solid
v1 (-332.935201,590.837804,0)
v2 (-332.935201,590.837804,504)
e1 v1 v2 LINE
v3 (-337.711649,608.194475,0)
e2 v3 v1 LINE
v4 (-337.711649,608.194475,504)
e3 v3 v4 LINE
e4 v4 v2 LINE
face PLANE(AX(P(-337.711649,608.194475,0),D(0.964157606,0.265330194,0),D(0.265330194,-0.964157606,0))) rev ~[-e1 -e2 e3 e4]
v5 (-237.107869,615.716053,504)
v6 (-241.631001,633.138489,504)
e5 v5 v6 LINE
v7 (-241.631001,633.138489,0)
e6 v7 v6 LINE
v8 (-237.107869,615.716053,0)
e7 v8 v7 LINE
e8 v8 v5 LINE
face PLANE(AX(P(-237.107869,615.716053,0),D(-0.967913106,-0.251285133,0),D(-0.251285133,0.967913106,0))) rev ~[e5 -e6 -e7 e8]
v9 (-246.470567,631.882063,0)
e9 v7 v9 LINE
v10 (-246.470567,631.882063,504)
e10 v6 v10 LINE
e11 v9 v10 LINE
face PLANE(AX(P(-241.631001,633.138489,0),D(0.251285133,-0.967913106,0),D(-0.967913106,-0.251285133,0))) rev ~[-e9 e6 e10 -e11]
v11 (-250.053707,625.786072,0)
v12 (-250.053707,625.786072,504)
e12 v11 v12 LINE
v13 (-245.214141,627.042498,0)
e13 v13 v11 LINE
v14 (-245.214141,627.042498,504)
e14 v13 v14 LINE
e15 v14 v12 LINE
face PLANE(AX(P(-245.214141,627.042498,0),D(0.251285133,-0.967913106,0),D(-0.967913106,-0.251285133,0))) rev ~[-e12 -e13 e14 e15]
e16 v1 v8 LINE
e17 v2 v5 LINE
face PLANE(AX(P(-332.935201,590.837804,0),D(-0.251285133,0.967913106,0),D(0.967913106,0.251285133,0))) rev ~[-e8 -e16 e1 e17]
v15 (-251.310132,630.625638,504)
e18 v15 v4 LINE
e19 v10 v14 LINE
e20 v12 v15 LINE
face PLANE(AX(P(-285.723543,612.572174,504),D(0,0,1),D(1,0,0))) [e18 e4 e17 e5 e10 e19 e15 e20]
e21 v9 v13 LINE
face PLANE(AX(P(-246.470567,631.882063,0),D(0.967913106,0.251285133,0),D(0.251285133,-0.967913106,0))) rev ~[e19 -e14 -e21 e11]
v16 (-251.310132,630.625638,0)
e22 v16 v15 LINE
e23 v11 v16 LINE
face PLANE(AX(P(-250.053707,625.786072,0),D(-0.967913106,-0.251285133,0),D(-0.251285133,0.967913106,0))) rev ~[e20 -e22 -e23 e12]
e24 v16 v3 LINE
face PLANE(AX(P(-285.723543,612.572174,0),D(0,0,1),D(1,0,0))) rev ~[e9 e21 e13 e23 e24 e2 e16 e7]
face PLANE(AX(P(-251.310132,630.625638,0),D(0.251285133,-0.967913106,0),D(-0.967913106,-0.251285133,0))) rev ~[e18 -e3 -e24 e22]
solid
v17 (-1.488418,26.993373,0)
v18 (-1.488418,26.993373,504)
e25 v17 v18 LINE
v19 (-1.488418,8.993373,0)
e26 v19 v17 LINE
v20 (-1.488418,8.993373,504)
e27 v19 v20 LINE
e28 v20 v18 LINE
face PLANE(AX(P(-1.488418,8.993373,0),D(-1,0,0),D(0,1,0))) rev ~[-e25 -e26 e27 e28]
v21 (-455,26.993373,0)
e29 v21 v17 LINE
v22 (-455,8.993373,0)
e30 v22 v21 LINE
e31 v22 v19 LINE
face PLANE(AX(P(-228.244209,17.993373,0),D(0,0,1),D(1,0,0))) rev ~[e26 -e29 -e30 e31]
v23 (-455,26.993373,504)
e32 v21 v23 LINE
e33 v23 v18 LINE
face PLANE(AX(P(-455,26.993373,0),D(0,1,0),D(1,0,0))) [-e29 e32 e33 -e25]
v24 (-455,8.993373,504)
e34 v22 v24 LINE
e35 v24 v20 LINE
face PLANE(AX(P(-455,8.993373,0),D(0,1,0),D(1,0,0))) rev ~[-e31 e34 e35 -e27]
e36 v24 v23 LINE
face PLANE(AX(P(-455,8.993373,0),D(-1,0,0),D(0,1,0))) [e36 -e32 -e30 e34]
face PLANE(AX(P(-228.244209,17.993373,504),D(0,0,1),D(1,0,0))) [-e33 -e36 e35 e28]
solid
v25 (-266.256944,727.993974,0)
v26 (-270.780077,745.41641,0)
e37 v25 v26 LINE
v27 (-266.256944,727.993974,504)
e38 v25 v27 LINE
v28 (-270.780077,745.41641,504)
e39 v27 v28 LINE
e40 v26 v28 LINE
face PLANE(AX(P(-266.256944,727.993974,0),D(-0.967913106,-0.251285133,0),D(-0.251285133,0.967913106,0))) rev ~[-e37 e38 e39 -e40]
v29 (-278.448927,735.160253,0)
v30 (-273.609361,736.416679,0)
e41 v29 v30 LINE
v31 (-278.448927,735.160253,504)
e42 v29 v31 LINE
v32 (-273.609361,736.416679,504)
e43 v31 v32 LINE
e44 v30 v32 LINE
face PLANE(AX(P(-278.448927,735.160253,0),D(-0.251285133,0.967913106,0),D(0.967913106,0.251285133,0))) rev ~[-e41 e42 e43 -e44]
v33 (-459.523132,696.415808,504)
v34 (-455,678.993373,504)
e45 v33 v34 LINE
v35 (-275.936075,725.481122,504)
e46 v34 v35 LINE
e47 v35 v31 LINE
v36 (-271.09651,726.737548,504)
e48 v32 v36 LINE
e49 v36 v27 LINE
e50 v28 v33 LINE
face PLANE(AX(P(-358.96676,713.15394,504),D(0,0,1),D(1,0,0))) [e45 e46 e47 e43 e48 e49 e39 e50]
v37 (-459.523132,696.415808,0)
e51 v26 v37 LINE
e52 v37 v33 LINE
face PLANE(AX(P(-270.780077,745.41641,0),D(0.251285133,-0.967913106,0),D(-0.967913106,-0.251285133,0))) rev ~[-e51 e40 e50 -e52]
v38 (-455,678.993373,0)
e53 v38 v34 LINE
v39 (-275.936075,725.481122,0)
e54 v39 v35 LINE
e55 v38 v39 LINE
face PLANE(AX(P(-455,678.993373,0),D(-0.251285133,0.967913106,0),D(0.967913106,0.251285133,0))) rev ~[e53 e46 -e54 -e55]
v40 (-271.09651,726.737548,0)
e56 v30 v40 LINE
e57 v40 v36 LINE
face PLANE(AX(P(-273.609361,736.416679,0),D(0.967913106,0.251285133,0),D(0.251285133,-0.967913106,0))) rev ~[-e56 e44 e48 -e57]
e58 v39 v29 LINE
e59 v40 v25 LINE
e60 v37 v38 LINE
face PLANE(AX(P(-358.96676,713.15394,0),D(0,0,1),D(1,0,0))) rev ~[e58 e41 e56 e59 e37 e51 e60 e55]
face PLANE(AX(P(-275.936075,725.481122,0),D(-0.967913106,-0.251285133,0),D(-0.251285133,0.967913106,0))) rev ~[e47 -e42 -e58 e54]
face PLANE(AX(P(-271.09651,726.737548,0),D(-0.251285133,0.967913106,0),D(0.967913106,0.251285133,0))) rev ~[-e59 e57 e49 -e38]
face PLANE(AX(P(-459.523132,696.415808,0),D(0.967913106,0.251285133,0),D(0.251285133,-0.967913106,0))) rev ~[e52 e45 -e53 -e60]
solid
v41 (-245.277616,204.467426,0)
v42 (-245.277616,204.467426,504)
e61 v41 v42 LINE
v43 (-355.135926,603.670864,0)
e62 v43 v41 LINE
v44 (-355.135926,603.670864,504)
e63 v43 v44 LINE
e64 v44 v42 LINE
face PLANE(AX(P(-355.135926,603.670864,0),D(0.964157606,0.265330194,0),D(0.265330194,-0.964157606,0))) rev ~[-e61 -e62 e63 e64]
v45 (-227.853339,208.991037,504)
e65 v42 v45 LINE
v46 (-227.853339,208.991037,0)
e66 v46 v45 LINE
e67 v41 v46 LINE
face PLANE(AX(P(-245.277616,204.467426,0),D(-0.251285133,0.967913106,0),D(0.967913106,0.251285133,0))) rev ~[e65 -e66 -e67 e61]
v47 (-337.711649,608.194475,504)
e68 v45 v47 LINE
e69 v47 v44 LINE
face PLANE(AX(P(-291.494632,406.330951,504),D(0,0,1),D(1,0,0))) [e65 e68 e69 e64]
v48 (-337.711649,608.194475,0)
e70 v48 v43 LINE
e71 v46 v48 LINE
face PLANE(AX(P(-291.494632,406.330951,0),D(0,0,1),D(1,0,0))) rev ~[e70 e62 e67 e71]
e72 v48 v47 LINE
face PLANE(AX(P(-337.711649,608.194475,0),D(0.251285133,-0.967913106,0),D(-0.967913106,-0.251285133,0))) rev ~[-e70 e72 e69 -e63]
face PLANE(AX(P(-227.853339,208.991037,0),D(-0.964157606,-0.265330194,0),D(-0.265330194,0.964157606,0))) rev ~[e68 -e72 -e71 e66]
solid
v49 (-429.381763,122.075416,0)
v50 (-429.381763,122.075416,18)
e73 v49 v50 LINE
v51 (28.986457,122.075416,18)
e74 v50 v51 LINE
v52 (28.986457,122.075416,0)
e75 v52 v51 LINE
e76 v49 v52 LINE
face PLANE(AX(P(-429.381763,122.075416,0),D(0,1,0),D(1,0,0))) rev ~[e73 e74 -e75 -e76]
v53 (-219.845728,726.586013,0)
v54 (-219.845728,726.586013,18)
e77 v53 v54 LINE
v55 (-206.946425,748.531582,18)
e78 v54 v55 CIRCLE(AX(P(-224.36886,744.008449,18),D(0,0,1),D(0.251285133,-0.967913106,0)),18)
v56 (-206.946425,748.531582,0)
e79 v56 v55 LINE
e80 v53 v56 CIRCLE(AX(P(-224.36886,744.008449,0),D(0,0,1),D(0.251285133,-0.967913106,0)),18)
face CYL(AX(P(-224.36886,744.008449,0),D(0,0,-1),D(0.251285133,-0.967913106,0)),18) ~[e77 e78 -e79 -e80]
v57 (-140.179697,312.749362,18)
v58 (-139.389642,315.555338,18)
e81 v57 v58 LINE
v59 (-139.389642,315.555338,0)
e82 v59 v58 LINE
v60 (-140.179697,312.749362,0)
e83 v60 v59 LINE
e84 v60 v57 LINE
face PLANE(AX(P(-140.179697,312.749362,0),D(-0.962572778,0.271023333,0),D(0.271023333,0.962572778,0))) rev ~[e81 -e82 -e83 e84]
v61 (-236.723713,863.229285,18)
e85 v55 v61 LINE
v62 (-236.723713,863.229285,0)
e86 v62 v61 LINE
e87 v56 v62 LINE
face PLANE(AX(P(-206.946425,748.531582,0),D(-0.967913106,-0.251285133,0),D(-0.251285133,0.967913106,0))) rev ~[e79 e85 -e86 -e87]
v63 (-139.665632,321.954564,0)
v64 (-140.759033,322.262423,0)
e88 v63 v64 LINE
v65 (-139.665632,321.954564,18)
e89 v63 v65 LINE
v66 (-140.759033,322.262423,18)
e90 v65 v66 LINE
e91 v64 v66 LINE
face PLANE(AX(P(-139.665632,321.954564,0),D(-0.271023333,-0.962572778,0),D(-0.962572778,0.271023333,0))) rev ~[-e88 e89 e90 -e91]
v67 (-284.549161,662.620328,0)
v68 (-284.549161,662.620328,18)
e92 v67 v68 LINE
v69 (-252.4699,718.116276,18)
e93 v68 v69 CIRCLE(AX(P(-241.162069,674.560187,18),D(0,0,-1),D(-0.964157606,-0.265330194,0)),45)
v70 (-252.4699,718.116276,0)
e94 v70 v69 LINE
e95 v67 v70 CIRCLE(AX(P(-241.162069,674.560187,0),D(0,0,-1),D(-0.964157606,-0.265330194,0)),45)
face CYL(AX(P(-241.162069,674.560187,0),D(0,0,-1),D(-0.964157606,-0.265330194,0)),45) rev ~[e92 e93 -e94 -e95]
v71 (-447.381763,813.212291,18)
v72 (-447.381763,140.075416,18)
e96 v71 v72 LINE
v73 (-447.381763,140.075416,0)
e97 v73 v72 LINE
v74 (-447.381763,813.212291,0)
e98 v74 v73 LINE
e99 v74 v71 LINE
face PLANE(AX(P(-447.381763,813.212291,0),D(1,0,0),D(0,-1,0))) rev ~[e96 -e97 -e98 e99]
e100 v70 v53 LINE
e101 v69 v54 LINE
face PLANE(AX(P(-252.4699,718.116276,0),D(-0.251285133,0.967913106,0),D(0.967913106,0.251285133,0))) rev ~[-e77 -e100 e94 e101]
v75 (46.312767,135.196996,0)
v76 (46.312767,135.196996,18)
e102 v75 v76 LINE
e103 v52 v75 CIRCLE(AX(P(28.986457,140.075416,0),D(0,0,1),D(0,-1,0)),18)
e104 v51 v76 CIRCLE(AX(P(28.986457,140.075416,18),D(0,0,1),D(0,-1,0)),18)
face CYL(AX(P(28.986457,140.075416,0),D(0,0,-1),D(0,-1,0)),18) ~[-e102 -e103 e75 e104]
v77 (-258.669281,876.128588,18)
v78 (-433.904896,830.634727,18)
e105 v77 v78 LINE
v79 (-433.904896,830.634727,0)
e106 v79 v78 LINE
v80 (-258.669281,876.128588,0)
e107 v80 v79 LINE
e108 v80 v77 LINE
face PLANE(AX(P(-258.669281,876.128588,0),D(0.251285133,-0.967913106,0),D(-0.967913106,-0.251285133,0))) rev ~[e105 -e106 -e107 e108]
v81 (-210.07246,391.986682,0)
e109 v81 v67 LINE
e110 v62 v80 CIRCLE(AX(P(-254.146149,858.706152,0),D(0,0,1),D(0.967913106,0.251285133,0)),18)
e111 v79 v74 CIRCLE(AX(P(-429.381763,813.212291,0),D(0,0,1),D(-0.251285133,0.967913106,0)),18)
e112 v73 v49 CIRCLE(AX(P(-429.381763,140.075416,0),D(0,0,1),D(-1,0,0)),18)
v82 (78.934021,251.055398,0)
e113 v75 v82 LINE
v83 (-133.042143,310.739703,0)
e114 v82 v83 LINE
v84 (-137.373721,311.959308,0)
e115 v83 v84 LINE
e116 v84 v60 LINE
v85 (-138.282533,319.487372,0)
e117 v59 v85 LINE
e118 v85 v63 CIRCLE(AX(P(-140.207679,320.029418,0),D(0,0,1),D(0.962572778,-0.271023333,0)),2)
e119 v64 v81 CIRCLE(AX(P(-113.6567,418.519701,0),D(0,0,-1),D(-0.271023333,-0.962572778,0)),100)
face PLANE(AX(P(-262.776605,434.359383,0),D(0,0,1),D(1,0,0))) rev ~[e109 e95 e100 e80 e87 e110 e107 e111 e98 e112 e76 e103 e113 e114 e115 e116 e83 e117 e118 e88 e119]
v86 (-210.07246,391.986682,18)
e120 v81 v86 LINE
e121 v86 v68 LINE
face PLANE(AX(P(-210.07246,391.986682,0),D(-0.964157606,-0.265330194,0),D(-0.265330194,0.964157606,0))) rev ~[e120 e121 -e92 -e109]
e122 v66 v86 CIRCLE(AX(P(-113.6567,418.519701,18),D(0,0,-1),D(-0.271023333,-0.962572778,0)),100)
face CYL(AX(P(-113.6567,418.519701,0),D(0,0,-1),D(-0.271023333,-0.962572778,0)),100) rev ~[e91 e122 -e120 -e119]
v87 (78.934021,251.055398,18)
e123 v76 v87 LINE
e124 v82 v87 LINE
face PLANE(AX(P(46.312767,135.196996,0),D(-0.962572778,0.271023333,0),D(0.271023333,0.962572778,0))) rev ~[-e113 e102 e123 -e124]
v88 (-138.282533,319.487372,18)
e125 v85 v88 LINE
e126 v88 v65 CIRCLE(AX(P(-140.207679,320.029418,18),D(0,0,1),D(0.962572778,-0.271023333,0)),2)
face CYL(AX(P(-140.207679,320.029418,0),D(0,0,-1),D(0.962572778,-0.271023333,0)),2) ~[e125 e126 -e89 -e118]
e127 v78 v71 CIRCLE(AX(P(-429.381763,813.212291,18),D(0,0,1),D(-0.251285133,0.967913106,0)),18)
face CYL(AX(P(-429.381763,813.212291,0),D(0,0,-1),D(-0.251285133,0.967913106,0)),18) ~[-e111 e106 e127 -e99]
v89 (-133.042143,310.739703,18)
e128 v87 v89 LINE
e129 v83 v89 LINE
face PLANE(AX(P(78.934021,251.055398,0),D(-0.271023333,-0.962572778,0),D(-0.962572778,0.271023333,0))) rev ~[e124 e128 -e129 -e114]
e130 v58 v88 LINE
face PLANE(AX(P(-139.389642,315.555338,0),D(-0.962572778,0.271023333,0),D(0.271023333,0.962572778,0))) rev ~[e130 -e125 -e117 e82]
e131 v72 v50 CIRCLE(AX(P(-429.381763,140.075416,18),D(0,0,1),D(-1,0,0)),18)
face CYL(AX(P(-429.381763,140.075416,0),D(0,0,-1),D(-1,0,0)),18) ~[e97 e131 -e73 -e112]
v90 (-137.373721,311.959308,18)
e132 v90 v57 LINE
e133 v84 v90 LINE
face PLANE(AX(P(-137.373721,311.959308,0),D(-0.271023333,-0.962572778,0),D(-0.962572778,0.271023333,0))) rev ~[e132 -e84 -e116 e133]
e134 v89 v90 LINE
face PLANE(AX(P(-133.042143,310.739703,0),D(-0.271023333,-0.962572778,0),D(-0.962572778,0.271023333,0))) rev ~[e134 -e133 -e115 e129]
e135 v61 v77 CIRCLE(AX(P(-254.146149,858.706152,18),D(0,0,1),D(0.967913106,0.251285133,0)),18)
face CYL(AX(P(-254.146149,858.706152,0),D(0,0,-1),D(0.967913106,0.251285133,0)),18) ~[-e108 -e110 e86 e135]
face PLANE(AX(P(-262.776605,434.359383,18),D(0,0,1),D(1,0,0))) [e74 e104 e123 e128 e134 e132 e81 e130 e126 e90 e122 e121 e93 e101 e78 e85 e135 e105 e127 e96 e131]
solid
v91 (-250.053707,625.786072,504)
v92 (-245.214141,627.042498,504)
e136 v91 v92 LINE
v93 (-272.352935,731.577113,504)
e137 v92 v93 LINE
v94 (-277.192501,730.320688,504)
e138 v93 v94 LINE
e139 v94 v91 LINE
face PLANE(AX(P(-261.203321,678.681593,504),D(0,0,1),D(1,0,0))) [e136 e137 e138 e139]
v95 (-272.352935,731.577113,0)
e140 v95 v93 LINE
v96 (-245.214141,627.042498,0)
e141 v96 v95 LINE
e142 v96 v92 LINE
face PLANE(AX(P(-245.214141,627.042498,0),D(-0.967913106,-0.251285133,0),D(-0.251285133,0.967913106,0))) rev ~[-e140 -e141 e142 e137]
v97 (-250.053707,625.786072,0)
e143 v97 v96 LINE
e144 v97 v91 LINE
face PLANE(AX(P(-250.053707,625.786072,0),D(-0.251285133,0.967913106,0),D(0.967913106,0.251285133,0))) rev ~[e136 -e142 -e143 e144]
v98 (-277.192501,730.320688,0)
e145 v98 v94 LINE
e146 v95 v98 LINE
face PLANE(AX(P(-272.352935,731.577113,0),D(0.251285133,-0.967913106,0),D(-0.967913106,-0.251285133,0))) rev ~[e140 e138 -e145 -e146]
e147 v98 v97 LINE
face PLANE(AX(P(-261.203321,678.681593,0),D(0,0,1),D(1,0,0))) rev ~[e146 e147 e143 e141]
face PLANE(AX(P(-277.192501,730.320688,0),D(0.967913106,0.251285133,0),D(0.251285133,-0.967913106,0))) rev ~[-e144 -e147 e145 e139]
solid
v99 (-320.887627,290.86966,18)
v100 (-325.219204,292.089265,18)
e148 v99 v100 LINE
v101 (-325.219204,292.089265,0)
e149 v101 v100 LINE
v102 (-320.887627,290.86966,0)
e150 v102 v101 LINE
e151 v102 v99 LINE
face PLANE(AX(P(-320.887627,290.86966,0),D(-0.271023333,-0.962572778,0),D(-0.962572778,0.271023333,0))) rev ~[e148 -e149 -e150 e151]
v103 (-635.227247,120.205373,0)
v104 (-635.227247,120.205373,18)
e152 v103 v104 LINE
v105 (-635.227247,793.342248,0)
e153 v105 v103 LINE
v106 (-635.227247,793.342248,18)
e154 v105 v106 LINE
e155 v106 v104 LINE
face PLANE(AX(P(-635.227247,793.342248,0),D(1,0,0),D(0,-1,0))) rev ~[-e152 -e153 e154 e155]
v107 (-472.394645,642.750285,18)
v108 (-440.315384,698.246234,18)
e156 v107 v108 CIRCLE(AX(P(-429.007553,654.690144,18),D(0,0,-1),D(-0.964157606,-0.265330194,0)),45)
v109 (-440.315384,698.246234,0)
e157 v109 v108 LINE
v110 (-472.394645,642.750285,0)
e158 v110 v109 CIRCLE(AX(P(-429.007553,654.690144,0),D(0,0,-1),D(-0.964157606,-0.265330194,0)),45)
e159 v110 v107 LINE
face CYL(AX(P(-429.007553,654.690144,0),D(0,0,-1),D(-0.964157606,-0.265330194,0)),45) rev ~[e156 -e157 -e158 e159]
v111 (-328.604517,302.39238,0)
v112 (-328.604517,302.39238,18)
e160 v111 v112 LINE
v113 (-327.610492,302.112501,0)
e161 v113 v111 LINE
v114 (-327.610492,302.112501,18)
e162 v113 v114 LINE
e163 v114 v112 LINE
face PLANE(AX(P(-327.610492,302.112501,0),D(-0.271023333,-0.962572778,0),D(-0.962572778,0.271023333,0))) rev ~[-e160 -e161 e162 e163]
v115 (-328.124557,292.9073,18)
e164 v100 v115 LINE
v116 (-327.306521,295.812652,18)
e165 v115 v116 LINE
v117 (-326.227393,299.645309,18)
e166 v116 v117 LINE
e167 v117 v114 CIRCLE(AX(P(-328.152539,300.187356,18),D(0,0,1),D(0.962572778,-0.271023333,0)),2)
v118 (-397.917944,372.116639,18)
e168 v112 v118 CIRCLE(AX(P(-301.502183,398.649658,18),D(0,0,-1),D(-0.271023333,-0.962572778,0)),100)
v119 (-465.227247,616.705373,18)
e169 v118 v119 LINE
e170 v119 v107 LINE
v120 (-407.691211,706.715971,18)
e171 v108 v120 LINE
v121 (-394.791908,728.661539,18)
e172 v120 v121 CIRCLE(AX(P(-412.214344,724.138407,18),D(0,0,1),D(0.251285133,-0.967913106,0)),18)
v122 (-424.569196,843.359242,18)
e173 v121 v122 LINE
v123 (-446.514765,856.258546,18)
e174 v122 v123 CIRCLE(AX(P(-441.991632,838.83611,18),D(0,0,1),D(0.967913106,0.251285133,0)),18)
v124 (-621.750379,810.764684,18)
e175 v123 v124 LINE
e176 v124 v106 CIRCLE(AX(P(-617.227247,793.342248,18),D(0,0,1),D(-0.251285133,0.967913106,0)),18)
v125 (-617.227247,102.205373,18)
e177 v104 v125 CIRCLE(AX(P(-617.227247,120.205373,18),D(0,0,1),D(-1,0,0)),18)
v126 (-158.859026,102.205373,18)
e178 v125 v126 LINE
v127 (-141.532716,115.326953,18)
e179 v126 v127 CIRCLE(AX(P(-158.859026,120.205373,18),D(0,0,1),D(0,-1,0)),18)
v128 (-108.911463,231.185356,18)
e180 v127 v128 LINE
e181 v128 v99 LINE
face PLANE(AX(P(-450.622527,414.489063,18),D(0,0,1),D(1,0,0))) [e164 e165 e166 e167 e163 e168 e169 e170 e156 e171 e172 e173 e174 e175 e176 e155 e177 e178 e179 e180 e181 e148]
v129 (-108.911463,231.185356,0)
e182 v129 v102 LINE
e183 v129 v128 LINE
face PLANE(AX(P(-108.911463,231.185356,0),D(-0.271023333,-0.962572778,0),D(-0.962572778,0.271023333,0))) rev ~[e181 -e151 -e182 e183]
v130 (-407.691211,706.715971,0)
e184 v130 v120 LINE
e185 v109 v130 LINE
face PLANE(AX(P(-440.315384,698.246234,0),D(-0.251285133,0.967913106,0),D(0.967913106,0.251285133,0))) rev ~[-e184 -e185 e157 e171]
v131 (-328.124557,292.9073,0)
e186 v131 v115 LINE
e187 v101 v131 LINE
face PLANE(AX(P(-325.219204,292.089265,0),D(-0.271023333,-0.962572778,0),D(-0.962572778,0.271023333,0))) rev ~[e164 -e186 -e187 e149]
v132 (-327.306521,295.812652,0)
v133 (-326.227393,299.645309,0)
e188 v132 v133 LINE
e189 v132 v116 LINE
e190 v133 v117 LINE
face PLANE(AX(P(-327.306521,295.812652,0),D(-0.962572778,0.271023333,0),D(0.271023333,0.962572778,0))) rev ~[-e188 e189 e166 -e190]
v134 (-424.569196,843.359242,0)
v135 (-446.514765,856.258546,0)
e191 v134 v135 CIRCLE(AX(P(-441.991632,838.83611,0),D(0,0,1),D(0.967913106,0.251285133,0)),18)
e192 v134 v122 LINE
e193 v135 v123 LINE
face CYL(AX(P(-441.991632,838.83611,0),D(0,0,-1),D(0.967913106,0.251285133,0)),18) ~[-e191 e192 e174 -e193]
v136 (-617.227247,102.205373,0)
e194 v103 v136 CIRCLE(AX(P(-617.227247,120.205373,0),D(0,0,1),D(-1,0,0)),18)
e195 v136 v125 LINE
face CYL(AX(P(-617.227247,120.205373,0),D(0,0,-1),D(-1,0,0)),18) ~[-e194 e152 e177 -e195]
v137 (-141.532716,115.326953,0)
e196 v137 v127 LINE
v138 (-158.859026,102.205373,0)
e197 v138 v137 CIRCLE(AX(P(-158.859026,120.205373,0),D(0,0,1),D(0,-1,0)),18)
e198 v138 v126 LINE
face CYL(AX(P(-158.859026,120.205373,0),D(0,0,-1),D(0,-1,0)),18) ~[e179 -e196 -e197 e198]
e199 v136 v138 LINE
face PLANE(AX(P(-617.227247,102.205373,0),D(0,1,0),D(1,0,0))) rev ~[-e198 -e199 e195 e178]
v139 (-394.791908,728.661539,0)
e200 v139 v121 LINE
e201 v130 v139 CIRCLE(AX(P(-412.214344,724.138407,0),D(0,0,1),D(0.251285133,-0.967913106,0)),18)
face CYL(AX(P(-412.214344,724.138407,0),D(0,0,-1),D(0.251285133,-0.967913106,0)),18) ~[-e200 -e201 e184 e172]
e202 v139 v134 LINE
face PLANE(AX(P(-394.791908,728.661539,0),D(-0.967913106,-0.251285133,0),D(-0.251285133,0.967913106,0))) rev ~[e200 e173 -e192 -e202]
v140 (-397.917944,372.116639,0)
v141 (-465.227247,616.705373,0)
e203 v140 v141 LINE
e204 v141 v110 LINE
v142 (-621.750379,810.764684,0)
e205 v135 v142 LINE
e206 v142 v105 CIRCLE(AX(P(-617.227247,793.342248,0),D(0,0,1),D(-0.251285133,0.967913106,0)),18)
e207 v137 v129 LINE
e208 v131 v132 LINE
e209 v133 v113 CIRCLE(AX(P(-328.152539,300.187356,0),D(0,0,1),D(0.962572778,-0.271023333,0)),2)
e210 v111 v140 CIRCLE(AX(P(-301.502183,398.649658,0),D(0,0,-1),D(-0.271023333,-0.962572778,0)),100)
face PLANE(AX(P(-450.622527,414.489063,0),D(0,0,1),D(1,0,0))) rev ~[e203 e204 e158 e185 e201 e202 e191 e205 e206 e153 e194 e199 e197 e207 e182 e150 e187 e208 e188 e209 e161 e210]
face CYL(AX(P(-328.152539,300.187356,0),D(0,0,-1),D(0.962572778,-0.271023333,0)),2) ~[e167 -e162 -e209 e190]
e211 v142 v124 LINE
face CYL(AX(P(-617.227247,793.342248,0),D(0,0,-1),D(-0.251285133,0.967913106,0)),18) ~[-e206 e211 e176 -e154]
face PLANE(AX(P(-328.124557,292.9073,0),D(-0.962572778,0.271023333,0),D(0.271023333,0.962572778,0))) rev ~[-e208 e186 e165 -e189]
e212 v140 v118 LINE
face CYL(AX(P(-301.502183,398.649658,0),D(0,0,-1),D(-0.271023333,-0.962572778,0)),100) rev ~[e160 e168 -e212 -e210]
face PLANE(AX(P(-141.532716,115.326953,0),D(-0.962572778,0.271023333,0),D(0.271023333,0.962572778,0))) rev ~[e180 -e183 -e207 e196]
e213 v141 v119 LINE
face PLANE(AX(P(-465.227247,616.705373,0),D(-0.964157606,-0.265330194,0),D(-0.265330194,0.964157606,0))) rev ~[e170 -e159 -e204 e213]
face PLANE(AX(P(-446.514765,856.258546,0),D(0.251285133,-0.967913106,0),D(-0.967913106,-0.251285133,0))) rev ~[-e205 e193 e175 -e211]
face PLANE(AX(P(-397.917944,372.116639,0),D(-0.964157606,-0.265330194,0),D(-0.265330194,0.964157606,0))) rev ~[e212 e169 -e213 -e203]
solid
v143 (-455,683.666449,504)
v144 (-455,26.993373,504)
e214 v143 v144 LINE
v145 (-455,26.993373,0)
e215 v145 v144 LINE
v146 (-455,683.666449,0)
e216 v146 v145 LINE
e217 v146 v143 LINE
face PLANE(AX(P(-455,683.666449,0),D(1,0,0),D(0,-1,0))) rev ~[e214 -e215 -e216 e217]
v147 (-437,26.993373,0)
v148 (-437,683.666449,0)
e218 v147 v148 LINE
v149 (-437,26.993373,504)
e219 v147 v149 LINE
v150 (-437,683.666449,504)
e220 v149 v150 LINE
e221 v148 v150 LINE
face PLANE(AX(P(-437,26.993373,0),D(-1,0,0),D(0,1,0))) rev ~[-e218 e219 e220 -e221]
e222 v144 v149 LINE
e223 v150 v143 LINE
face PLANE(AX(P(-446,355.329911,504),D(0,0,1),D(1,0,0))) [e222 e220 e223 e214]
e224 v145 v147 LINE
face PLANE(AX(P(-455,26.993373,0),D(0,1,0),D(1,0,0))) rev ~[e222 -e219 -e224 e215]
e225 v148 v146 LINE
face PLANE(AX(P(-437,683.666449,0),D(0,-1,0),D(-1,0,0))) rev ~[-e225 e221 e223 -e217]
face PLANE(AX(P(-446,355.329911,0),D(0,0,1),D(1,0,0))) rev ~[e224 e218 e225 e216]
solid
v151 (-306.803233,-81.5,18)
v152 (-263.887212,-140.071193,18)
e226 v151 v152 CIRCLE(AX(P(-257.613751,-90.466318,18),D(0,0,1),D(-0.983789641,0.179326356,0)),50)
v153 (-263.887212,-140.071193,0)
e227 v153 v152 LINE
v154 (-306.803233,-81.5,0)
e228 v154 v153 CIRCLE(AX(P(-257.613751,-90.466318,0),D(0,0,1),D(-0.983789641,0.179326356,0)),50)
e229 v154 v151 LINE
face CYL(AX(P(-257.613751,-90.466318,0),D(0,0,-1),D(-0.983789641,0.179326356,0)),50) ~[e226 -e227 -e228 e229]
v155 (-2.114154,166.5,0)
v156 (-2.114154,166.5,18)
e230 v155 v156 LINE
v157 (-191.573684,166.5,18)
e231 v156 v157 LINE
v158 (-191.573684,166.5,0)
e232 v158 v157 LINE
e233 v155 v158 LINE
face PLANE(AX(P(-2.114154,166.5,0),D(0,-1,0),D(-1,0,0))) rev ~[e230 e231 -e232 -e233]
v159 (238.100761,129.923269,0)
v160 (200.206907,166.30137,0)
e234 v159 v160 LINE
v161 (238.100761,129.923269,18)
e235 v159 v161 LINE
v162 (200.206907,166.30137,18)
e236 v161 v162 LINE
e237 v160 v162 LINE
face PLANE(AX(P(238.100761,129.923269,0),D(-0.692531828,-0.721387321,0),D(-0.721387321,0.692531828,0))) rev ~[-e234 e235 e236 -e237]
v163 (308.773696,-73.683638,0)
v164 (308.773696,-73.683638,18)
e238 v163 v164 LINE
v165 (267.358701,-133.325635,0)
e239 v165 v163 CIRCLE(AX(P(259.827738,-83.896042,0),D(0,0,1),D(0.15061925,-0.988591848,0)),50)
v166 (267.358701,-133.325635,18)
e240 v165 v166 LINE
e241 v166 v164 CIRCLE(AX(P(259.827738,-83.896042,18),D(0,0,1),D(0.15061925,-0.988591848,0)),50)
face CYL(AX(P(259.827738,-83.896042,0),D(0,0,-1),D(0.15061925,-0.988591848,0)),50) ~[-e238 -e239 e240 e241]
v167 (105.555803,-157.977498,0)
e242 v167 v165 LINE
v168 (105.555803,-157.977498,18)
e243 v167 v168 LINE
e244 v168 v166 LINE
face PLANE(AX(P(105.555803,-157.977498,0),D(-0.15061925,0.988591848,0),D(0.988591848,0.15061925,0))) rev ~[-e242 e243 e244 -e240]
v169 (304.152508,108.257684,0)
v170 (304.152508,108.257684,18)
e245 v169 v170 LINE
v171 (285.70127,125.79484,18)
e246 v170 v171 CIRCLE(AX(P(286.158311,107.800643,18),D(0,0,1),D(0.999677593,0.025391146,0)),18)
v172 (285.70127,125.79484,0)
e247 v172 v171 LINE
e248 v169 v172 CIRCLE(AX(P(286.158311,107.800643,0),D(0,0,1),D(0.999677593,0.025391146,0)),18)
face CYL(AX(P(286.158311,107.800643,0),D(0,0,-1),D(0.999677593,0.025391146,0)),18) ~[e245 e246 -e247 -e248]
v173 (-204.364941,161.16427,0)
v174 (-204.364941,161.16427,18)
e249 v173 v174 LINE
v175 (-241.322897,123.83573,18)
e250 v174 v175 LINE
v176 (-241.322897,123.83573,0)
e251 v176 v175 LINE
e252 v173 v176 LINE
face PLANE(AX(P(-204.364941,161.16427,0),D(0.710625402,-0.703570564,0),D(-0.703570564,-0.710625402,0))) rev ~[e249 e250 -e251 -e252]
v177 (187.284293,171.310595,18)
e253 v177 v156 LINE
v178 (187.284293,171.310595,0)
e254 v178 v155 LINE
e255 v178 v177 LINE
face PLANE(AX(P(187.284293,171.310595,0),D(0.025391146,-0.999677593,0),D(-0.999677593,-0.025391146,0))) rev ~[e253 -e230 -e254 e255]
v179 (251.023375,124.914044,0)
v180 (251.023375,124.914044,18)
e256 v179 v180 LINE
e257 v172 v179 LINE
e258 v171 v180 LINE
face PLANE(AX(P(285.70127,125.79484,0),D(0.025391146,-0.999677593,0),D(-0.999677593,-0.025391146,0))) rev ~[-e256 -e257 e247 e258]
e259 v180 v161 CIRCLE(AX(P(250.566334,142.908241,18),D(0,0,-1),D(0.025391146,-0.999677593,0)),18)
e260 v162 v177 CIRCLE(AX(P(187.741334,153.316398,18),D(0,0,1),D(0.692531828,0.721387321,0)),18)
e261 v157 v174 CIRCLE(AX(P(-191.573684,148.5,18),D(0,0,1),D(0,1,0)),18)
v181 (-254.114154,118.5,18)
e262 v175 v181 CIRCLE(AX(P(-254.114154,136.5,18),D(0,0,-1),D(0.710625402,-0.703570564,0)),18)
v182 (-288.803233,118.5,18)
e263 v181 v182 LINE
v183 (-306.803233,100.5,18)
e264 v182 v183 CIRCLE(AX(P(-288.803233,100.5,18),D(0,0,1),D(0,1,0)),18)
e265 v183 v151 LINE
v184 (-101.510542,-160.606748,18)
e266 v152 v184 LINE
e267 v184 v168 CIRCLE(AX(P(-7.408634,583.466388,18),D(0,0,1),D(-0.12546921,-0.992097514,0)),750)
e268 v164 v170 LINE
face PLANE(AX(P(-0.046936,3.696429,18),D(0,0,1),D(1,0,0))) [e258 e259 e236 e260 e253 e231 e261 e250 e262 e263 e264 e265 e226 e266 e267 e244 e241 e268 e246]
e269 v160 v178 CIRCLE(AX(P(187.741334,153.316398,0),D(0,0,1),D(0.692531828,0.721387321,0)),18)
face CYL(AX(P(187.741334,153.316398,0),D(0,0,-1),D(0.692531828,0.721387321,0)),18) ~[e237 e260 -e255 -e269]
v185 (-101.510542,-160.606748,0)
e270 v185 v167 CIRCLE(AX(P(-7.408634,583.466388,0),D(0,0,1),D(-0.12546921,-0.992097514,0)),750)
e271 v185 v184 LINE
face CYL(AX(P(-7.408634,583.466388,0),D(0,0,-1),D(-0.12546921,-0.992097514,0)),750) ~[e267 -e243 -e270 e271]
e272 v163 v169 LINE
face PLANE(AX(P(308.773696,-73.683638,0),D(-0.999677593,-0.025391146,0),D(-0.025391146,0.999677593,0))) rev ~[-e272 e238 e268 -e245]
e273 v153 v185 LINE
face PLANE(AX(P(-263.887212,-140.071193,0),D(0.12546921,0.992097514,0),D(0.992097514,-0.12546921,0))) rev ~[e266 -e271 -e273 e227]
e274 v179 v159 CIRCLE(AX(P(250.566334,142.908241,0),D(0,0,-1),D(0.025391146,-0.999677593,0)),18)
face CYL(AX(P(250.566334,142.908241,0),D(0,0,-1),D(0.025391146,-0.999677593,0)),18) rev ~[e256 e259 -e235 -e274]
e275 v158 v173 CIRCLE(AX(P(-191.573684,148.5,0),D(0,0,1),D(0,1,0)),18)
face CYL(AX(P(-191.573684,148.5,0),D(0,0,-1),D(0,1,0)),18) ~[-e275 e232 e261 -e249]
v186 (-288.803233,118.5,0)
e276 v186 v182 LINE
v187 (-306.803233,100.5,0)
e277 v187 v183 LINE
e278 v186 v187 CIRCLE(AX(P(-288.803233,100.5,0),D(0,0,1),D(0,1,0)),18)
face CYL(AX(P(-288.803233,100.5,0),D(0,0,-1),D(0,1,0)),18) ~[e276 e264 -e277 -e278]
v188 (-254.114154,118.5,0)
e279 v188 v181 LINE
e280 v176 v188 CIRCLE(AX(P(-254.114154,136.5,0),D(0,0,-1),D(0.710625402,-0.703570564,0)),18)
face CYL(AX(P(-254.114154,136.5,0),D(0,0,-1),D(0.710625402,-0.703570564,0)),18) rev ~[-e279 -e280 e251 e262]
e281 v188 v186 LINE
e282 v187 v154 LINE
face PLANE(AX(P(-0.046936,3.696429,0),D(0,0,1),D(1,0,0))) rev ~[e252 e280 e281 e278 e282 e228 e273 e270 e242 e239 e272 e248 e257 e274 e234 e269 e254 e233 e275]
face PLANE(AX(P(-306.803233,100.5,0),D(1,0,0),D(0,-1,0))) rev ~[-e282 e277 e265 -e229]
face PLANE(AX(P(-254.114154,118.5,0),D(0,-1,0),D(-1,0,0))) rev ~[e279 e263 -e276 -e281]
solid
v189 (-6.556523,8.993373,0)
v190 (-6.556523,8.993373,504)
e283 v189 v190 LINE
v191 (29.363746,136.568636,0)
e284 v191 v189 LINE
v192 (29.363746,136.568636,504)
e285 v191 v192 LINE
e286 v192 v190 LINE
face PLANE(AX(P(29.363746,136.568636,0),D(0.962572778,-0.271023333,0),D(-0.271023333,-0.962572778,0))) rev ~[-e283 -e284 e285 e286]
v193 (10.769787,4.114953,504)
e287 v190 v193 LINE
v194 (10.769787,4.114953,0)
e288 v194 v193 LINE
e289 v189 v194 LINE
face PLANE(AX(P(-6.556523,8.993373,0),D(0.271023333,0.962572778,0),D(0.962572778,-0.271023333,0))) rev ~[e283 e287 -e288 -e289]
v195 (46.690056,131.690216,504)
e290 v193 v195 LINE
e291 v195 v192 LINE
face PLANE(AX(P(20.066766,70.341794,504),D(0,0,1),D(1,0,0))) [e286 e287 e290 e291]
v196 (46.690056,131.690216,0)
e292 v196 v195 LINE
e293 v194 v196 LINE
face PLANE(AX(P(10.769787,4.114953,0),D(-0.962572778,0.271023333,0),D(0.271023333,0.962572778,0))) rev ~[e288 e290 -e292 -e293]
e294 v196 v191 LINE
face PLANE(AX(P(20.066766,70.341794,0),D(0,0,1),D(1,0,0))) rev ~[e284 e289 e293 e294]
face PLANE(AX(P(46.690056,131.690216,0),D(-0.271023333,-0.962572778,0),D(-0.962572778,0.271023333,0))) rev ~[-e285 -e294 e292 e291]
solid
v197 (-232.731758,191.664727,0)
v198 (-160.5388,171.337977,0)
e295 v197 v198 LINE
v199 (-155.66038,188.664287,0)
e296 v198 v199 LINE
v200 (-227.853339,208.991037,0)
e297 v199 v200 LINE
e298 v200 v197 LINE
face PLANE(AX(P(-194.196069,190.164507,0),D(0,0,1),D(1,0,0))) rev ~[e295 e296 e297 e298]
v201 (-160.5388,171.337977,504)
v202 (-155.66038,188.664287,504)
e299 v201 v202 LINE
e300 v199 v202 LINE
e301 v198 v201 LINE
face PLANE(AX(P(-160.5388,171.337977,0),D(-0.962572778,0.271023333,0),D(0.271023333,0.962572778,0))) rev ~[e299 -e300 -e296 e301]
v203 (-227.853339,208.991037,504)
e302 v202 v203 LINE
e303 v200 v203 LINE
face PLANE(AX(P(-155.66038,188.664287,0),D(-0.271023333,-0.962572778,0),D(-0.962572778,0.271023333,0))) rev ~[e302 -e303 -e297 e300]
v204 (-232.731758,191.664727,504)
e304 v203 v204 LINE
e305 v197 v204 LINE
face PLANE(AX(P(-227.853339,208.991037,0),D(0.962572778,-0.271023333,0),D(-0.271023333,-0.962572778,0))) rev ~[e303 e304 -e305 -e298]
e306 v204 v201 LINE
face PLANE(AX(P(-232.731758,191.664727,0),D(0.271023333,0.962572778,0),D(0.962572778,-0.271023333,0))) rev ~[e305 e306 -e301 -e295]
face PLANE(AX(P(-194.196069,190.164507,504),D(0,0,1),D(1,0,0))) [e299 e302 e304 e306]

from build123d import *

# Parameters (mm, degrees)
F12_DEPTH = 18
F13_DEPTH = 504
F4_W      = 453.5115820138
F4_H      = 18


with BuildPart() as f12:
    # F9 (on Top) → F12 (new body)
    with BuildSketch(Plane.XY):
        with BuildLine():
            Line((-429.3817631771, 122.0754157483), (28.9864571738, 122.0754157483))
            ThreePointArc((28.9864571738, 122.0754157483), (39.8535736292, 125.7259983405), (46.3127671781, 135.1969957544))
            Line((46.3127671781, 135.1969957544), (78.9340205229, 251.0553984518))
            Line((78.9340205229, 251.0553984518), (-133.042143326, 310.7397025937))
            Line((-133.042143326, 310.7397025937), (-137.3737208271, 311.9593075922))
            Line((-137.3737208271, 311.9593075922), (-140.1796967751, 312.749362091))
            Line((-140.1796967751, 312.749362091), (-139.3896422763, 315.555338039))
            Line((-139.3896422763, 315.555338039), (-138.2825334442, 319.4873715371))
            ThreePointArc((-138.2825334442, 319.4873715371), (-138.4631106495, 321.0074168073), (-139.6656323342, 321.9545637591))
            Line((-139.6656323342, 321.9545637591), (-140.7590331261, 322.2624232101))
            ThreePointArc((-140.7590331261, 322.2624232101), (-184.576005593, 348.018267908), (-210.0724603784, 391.9866816348))
            Line((-210.0724603784, 391.9866816348), (-241.8817631771, 507.5754157483))
            Line((-241.8817631771, 507.5754157483), (-277.3817631771, 636.5754157483))
            Line((-277.3817631771, 636.5754157483), (-284.5491614764, 662.6203278781))
            ThreePointArc((-284.5491614764, 662.6203278781), (-280.1214549097, 697.0805388885), (-252.4699002319, 718.1162763898))
            Line((-252.4699002319, 718.1162763898), (-219.8457280188, 726.5860134067))
            ThreePointArc((-219.8457280188, 726.5860134067), (-208.8510002454, 734.8872643352), (-206.9464245034, 748.5315817251))
            Line((-206.9464245034, 748.5315817251), (-236.7237128133, 863.2292848446))
            ThreePointArc((-236.7237128133, 863.2292848446), (-245.0249637419, 874.2240126181), (-258.6692811317, 876.12858836))
            Line((-258.6692811317, 876.12858836), (-433.9048955786, 830.6347269171))
            ThreePointArc((-433.9048955786, 830.6347269171), (-443.6193258763, 824.2255470304), (-447.3817631771, 813.2122910002))
            Line((-447.3817631771, 813.2122910002), (-447.3817631771, 630.5646466931))
            Line((-447.3817631771, 630.5646466931), (-447.3817631771, 501.5646466931))
            Line((-447.3817631771, 501.5646466931), (-447.3817631771, 297.5646466931))
            Line((-447.3817631771, 297.5646466931), (-447.3817631771, 140.0754157483))
            ThreePointArc((-447.3817631771, 140.0754157483), (-442.1096852384, 127.347493687), (-429.3817631771, 122.0754157483))
        make_face()
    extrude(amount=F12_DEPTH)


with BuildPart() as f12b:
    # F10 (on Top) → F12, piece 2 (new body)
    with BuildSketch(Plane.XY):
        with BuildLine():
            Line((-617.2272465994, 102.2053729474), (-158.8590262485, 102.2053729474))
            ThreePointArc((-158.8590262485, 102.2053729474), (-147.9919097931, 105.8559555396), (-141.5327162442, 115.3269529535))
            Line((-141.5327162442, 115.3269529535), (-108.9114628994, 231.1853556509))
            Line((-108.9114628994, 231.1853556509), (-320.8876267483, 290.8696597928))
            Line((-320.8876267483, 290.8696597928), (-325.2192042494, 292.0892647913))
            Line((-325.2192042494, 292.0892647913), (-328.1245565168, 292.9072998251))
            Line((-328.1245565168, 292.9072998251), (-327.3065214829, 295.8126520925))
            Line((-327.3065214829, 295.8126520925), (-326.2273931858, 299.6453092712))
            ThreePointArc((-326.2273931858, 299.6453092712), (-326.4079703912, 301.1653545414), (-327.6104920759, 302.1125014932))
            Line((-327.6104920759, 302.1125014932), (-328.6045165484, 302.3923804091))
            ThreePointArc((-328.6045165484, 302.3923804091), (-372.4214890153, 328.1482251071), (-397.9179438007, 372.1166388339))
            Line((-397.9179438007, 372.1166388339), (-429.7272465994, 487.7053729474))
            Line((-429.7272465994, 487.7053729474), (-465.2272465994, 616.7053729474))
            Line((-465.2272465994, 616.7053729474), (-472.3946448986, 642.7502850772))
            ThreePointArc((-472.3946448986, 642.7502850772), (-467.966938332, 677.2104960876), (-440.3153836541, 698.2462335889))
            Line((-440.3153836541, 698.2462335889), (-407.6912114411, 706.7159706058))
            ThreePointArc((-407.6912114411, 706.7159706058), (-396.6964836677, 715.0172215343), (-394.7919079257, 728.6615389242))
            Line((-394.7919079257, 728.6615389242), (-424.5691962356, 843.3592420437))
            ThreePointArc((-424.5691962356, 843.3592420437), (-432.8704471642, 854.3539698172), (-446.514764554, 856.2585455591))
            Line((-446.514764554, 856.2585455591), (-621.7503790009, 810.7646841162))
            ThreePointArc((-621.7503790009, 810.7646841162), (-631.4648092986, 804.3555042295), (-635.2272465994, 793.3422481993))
            Line((-635.2272465994, 793.3422481993), (-635.2272465994, 610.6946038922))
            Line((-635.2272465994, 610.6946038922), (-635.2272465994, 481.6946038922))
            Line((-635.2272465994, 481.6946038922), (-635.2272465994, 277.6946038922))
            Line((-635.2272465994, 277.6946038922), (-635.2272465994, 120.2053729474))
            ThreePointArc((-635.2272465994, 120.2053729474), (-629.9551686607, 107.4774508861), (-617.2272465994, 102.2053729474))
        make_face()
    extrude(amount=F12_DEPTH)


with BuildPart() as f12c:
    # F11 (on Top) → F12, piece 3 (new body)
    with BuildSketch(Plane.XY):
        with BuildLine():
            Line((-2.114153737, 166.5), (-191.5736835543, 166.5))
            ThreePointArc((-191.5736835543, 166.5), (-198.5034431957, 165.112598572), (-204.3649407901, 161.1642701459))
            Line((-204.3649407901, 161.1642701459), (-241.3228965013, 123.8357298541))
            ThreePointArc((-241.3228965013, 123.8357298541), (-247.1843940957, 119.887401428), (-254.114153737, 118.5))
            Line((-254.114153737, 118.5), (-288.8032333315, 118.5))
            ThreePointArc((-288.8032333315, 118.5), (-301.5311553929, 113.2279220614), (-306.8032333315, 100.5))
            Line((-306.8032333315, 100.5), (-306.8032333315, -81.5))
            ThreePointArc((-306.8032333315, -81.5), (-297.9458808392, -120.018294448), (-263.8872117477, -140.0711934921))
            Line((-263.8872117477, -140.0711934921), (-101.5105416408, -160.6067478645))
            ThreePointArc((-101.5105416408, -160.6067478645), (2.1138129142, -166.4731585248), (105.5558033474, -157.9774980923))
            Line((105.5558033474, -157.9774980923), (267.3587007934, -133.3256347457))
            ThreePointArc((267.3587007934, -133.3256347457), (300.8972230342, -112.4144122501), (308.7736962041, -73.683638042))
            Line((308.7736962041, -73.683638042), (304.152507581, 108.2576838607))
            ThreePointArc((304.152507581, 108.2576838607), (298.5589528669, 120.8476382471), (285.7012702762, 125.7948398994))
            Line((285.7012702762, 125.7948398994), (251.0233746882, 124.914044405))
            ThreePointArc((251.0233746882, 124.914044405), (244.0606215382, 126.1250439842), (238.1007611478, 129.9232692982))
            Line((238.1007611478, 129.9232692982), (200.2069065179, 166.3013697428))
            ThreePointArc((200.2069065179, 166.3013697428), (194.2470461275, 170.0995950568), (187.2842929774, 171.310594636))
            Line((187.2842929774, 171.310594636), (-2.114153737, 166.5))
        make_face()
    extrude(amount=F12_DEPTH)


with BuildPart() as f13:
    # F2 (on Top) → F13 (new body)
    with BuildSketch(Plane.XY):
        Polygon((-271.0965097661, 726.7375479236), (-266.2569442336, 727.9939735907), (-270.7800766351, 745.4164095076), (-459.5231324015, 696.4158084913), (-455, 678.9933725744), (-275.9360752985, 725.4811222565), (-278.4489266327, 735.1602533215), (-273.6093611002, 736.4166789886), align=None)
    extrude(amount=F13_DEPTH)


with BuildPart() as f13b:
    # F1 (on Top) → F13, piece 2 (new body)
    with BuildSketch(Plane.XY):
        Polygon((-155.660380149, 188.6642868454), (-227.8533385, 208.9910368199), (-232.7317584939, 191.6647268157), (-160.5388001429, 171.3379768411), align=None)
    extrude(amount=F13_DEPTH)


with BuildPart() as f13c:
    # F4 (on Top) → F13, piece 3 (new body)
    with BuildSketch(Plane.XY):
        with Locations((-228.2442089931, 17.9933725744)):
            Rectangle(F4_W, F4_H)
    extrude(amount=F13_DEPTH)


with BuildPart() as f13d:
    # F3 (on Top) → F13, piece 4 (new body)
    with BuildSketch(Plane.XY):
        Polygon((-337.7116489579, 608.1944748218), (-332.9352006771, 590.8378036043), (-237.1078687572, 615.7160532374), (-241.6310011587, 633.1384891543), (-246.4705666912, 631.8820634872), (-245.2141410241, 627.0424979547), (-250.0537065566, 625.7860722876), (-251.3101322237, 630.6256378201), align=None)
    extrude(amount=F13_DEPTH)


with BuildPart() as f13e:
    # F5 (on Top) → F13, piece 5 (new body)
    with BuildSketch(Plane.XY):
        Polygon((-337.7116489579, 608.1944748218), (-355.1359263378, 603.6708643482), (-245.2776158799, 204.4674263463), (-227.8533385, 208.9910368199), align=None)
    extrude(amount=F13_DEPTH)


with BuildPart() as f13f:
    # F6 (on Top) → F13, piece 6 (new body)
    with BuildSketch(Plane.XY):
        Polygon((-437, 678.9933725744), (-437, 683.6664494975), (-455, 683.6664494975), (-455, 26.9933725744), (-437, 26.9933725744), align=None)
    extrude(amount=F13_DEPTH)


with BuildPart() as f13g:
    # F7 (on Top) → F13, piece 7 (new body)
    with BuildSketch(Plane.XY):
        Polygon((46.6900559198, 131.6902160334), (29.3637459156, 136.5686360273), (-6.5565230743, 8.9933725744), (10.7697869299, 4.1149525805), align=None)
    extrude(amount=F13_DEPTH)


with BuildPart() as f13h:
    # F8 (on Top) → F13, piece 8 (new body)
    with BuildSketch(Plane.XY):
        Polygon((-277.1925009656, 730.320687789), (-250.0537065566, 625.7860722876), (-245.2141410241, 627.0424979547), (-272.3529354331, 731.5771134561), align=None)
    extrude(amount=F13_DEPTH)


solid = Compound([f12.part, f12b.part, f12c.part, f13.part, f13b.part, f13c.part, f13d.part, f13e.part, f13f.part, f13g.part, f13h.part])
